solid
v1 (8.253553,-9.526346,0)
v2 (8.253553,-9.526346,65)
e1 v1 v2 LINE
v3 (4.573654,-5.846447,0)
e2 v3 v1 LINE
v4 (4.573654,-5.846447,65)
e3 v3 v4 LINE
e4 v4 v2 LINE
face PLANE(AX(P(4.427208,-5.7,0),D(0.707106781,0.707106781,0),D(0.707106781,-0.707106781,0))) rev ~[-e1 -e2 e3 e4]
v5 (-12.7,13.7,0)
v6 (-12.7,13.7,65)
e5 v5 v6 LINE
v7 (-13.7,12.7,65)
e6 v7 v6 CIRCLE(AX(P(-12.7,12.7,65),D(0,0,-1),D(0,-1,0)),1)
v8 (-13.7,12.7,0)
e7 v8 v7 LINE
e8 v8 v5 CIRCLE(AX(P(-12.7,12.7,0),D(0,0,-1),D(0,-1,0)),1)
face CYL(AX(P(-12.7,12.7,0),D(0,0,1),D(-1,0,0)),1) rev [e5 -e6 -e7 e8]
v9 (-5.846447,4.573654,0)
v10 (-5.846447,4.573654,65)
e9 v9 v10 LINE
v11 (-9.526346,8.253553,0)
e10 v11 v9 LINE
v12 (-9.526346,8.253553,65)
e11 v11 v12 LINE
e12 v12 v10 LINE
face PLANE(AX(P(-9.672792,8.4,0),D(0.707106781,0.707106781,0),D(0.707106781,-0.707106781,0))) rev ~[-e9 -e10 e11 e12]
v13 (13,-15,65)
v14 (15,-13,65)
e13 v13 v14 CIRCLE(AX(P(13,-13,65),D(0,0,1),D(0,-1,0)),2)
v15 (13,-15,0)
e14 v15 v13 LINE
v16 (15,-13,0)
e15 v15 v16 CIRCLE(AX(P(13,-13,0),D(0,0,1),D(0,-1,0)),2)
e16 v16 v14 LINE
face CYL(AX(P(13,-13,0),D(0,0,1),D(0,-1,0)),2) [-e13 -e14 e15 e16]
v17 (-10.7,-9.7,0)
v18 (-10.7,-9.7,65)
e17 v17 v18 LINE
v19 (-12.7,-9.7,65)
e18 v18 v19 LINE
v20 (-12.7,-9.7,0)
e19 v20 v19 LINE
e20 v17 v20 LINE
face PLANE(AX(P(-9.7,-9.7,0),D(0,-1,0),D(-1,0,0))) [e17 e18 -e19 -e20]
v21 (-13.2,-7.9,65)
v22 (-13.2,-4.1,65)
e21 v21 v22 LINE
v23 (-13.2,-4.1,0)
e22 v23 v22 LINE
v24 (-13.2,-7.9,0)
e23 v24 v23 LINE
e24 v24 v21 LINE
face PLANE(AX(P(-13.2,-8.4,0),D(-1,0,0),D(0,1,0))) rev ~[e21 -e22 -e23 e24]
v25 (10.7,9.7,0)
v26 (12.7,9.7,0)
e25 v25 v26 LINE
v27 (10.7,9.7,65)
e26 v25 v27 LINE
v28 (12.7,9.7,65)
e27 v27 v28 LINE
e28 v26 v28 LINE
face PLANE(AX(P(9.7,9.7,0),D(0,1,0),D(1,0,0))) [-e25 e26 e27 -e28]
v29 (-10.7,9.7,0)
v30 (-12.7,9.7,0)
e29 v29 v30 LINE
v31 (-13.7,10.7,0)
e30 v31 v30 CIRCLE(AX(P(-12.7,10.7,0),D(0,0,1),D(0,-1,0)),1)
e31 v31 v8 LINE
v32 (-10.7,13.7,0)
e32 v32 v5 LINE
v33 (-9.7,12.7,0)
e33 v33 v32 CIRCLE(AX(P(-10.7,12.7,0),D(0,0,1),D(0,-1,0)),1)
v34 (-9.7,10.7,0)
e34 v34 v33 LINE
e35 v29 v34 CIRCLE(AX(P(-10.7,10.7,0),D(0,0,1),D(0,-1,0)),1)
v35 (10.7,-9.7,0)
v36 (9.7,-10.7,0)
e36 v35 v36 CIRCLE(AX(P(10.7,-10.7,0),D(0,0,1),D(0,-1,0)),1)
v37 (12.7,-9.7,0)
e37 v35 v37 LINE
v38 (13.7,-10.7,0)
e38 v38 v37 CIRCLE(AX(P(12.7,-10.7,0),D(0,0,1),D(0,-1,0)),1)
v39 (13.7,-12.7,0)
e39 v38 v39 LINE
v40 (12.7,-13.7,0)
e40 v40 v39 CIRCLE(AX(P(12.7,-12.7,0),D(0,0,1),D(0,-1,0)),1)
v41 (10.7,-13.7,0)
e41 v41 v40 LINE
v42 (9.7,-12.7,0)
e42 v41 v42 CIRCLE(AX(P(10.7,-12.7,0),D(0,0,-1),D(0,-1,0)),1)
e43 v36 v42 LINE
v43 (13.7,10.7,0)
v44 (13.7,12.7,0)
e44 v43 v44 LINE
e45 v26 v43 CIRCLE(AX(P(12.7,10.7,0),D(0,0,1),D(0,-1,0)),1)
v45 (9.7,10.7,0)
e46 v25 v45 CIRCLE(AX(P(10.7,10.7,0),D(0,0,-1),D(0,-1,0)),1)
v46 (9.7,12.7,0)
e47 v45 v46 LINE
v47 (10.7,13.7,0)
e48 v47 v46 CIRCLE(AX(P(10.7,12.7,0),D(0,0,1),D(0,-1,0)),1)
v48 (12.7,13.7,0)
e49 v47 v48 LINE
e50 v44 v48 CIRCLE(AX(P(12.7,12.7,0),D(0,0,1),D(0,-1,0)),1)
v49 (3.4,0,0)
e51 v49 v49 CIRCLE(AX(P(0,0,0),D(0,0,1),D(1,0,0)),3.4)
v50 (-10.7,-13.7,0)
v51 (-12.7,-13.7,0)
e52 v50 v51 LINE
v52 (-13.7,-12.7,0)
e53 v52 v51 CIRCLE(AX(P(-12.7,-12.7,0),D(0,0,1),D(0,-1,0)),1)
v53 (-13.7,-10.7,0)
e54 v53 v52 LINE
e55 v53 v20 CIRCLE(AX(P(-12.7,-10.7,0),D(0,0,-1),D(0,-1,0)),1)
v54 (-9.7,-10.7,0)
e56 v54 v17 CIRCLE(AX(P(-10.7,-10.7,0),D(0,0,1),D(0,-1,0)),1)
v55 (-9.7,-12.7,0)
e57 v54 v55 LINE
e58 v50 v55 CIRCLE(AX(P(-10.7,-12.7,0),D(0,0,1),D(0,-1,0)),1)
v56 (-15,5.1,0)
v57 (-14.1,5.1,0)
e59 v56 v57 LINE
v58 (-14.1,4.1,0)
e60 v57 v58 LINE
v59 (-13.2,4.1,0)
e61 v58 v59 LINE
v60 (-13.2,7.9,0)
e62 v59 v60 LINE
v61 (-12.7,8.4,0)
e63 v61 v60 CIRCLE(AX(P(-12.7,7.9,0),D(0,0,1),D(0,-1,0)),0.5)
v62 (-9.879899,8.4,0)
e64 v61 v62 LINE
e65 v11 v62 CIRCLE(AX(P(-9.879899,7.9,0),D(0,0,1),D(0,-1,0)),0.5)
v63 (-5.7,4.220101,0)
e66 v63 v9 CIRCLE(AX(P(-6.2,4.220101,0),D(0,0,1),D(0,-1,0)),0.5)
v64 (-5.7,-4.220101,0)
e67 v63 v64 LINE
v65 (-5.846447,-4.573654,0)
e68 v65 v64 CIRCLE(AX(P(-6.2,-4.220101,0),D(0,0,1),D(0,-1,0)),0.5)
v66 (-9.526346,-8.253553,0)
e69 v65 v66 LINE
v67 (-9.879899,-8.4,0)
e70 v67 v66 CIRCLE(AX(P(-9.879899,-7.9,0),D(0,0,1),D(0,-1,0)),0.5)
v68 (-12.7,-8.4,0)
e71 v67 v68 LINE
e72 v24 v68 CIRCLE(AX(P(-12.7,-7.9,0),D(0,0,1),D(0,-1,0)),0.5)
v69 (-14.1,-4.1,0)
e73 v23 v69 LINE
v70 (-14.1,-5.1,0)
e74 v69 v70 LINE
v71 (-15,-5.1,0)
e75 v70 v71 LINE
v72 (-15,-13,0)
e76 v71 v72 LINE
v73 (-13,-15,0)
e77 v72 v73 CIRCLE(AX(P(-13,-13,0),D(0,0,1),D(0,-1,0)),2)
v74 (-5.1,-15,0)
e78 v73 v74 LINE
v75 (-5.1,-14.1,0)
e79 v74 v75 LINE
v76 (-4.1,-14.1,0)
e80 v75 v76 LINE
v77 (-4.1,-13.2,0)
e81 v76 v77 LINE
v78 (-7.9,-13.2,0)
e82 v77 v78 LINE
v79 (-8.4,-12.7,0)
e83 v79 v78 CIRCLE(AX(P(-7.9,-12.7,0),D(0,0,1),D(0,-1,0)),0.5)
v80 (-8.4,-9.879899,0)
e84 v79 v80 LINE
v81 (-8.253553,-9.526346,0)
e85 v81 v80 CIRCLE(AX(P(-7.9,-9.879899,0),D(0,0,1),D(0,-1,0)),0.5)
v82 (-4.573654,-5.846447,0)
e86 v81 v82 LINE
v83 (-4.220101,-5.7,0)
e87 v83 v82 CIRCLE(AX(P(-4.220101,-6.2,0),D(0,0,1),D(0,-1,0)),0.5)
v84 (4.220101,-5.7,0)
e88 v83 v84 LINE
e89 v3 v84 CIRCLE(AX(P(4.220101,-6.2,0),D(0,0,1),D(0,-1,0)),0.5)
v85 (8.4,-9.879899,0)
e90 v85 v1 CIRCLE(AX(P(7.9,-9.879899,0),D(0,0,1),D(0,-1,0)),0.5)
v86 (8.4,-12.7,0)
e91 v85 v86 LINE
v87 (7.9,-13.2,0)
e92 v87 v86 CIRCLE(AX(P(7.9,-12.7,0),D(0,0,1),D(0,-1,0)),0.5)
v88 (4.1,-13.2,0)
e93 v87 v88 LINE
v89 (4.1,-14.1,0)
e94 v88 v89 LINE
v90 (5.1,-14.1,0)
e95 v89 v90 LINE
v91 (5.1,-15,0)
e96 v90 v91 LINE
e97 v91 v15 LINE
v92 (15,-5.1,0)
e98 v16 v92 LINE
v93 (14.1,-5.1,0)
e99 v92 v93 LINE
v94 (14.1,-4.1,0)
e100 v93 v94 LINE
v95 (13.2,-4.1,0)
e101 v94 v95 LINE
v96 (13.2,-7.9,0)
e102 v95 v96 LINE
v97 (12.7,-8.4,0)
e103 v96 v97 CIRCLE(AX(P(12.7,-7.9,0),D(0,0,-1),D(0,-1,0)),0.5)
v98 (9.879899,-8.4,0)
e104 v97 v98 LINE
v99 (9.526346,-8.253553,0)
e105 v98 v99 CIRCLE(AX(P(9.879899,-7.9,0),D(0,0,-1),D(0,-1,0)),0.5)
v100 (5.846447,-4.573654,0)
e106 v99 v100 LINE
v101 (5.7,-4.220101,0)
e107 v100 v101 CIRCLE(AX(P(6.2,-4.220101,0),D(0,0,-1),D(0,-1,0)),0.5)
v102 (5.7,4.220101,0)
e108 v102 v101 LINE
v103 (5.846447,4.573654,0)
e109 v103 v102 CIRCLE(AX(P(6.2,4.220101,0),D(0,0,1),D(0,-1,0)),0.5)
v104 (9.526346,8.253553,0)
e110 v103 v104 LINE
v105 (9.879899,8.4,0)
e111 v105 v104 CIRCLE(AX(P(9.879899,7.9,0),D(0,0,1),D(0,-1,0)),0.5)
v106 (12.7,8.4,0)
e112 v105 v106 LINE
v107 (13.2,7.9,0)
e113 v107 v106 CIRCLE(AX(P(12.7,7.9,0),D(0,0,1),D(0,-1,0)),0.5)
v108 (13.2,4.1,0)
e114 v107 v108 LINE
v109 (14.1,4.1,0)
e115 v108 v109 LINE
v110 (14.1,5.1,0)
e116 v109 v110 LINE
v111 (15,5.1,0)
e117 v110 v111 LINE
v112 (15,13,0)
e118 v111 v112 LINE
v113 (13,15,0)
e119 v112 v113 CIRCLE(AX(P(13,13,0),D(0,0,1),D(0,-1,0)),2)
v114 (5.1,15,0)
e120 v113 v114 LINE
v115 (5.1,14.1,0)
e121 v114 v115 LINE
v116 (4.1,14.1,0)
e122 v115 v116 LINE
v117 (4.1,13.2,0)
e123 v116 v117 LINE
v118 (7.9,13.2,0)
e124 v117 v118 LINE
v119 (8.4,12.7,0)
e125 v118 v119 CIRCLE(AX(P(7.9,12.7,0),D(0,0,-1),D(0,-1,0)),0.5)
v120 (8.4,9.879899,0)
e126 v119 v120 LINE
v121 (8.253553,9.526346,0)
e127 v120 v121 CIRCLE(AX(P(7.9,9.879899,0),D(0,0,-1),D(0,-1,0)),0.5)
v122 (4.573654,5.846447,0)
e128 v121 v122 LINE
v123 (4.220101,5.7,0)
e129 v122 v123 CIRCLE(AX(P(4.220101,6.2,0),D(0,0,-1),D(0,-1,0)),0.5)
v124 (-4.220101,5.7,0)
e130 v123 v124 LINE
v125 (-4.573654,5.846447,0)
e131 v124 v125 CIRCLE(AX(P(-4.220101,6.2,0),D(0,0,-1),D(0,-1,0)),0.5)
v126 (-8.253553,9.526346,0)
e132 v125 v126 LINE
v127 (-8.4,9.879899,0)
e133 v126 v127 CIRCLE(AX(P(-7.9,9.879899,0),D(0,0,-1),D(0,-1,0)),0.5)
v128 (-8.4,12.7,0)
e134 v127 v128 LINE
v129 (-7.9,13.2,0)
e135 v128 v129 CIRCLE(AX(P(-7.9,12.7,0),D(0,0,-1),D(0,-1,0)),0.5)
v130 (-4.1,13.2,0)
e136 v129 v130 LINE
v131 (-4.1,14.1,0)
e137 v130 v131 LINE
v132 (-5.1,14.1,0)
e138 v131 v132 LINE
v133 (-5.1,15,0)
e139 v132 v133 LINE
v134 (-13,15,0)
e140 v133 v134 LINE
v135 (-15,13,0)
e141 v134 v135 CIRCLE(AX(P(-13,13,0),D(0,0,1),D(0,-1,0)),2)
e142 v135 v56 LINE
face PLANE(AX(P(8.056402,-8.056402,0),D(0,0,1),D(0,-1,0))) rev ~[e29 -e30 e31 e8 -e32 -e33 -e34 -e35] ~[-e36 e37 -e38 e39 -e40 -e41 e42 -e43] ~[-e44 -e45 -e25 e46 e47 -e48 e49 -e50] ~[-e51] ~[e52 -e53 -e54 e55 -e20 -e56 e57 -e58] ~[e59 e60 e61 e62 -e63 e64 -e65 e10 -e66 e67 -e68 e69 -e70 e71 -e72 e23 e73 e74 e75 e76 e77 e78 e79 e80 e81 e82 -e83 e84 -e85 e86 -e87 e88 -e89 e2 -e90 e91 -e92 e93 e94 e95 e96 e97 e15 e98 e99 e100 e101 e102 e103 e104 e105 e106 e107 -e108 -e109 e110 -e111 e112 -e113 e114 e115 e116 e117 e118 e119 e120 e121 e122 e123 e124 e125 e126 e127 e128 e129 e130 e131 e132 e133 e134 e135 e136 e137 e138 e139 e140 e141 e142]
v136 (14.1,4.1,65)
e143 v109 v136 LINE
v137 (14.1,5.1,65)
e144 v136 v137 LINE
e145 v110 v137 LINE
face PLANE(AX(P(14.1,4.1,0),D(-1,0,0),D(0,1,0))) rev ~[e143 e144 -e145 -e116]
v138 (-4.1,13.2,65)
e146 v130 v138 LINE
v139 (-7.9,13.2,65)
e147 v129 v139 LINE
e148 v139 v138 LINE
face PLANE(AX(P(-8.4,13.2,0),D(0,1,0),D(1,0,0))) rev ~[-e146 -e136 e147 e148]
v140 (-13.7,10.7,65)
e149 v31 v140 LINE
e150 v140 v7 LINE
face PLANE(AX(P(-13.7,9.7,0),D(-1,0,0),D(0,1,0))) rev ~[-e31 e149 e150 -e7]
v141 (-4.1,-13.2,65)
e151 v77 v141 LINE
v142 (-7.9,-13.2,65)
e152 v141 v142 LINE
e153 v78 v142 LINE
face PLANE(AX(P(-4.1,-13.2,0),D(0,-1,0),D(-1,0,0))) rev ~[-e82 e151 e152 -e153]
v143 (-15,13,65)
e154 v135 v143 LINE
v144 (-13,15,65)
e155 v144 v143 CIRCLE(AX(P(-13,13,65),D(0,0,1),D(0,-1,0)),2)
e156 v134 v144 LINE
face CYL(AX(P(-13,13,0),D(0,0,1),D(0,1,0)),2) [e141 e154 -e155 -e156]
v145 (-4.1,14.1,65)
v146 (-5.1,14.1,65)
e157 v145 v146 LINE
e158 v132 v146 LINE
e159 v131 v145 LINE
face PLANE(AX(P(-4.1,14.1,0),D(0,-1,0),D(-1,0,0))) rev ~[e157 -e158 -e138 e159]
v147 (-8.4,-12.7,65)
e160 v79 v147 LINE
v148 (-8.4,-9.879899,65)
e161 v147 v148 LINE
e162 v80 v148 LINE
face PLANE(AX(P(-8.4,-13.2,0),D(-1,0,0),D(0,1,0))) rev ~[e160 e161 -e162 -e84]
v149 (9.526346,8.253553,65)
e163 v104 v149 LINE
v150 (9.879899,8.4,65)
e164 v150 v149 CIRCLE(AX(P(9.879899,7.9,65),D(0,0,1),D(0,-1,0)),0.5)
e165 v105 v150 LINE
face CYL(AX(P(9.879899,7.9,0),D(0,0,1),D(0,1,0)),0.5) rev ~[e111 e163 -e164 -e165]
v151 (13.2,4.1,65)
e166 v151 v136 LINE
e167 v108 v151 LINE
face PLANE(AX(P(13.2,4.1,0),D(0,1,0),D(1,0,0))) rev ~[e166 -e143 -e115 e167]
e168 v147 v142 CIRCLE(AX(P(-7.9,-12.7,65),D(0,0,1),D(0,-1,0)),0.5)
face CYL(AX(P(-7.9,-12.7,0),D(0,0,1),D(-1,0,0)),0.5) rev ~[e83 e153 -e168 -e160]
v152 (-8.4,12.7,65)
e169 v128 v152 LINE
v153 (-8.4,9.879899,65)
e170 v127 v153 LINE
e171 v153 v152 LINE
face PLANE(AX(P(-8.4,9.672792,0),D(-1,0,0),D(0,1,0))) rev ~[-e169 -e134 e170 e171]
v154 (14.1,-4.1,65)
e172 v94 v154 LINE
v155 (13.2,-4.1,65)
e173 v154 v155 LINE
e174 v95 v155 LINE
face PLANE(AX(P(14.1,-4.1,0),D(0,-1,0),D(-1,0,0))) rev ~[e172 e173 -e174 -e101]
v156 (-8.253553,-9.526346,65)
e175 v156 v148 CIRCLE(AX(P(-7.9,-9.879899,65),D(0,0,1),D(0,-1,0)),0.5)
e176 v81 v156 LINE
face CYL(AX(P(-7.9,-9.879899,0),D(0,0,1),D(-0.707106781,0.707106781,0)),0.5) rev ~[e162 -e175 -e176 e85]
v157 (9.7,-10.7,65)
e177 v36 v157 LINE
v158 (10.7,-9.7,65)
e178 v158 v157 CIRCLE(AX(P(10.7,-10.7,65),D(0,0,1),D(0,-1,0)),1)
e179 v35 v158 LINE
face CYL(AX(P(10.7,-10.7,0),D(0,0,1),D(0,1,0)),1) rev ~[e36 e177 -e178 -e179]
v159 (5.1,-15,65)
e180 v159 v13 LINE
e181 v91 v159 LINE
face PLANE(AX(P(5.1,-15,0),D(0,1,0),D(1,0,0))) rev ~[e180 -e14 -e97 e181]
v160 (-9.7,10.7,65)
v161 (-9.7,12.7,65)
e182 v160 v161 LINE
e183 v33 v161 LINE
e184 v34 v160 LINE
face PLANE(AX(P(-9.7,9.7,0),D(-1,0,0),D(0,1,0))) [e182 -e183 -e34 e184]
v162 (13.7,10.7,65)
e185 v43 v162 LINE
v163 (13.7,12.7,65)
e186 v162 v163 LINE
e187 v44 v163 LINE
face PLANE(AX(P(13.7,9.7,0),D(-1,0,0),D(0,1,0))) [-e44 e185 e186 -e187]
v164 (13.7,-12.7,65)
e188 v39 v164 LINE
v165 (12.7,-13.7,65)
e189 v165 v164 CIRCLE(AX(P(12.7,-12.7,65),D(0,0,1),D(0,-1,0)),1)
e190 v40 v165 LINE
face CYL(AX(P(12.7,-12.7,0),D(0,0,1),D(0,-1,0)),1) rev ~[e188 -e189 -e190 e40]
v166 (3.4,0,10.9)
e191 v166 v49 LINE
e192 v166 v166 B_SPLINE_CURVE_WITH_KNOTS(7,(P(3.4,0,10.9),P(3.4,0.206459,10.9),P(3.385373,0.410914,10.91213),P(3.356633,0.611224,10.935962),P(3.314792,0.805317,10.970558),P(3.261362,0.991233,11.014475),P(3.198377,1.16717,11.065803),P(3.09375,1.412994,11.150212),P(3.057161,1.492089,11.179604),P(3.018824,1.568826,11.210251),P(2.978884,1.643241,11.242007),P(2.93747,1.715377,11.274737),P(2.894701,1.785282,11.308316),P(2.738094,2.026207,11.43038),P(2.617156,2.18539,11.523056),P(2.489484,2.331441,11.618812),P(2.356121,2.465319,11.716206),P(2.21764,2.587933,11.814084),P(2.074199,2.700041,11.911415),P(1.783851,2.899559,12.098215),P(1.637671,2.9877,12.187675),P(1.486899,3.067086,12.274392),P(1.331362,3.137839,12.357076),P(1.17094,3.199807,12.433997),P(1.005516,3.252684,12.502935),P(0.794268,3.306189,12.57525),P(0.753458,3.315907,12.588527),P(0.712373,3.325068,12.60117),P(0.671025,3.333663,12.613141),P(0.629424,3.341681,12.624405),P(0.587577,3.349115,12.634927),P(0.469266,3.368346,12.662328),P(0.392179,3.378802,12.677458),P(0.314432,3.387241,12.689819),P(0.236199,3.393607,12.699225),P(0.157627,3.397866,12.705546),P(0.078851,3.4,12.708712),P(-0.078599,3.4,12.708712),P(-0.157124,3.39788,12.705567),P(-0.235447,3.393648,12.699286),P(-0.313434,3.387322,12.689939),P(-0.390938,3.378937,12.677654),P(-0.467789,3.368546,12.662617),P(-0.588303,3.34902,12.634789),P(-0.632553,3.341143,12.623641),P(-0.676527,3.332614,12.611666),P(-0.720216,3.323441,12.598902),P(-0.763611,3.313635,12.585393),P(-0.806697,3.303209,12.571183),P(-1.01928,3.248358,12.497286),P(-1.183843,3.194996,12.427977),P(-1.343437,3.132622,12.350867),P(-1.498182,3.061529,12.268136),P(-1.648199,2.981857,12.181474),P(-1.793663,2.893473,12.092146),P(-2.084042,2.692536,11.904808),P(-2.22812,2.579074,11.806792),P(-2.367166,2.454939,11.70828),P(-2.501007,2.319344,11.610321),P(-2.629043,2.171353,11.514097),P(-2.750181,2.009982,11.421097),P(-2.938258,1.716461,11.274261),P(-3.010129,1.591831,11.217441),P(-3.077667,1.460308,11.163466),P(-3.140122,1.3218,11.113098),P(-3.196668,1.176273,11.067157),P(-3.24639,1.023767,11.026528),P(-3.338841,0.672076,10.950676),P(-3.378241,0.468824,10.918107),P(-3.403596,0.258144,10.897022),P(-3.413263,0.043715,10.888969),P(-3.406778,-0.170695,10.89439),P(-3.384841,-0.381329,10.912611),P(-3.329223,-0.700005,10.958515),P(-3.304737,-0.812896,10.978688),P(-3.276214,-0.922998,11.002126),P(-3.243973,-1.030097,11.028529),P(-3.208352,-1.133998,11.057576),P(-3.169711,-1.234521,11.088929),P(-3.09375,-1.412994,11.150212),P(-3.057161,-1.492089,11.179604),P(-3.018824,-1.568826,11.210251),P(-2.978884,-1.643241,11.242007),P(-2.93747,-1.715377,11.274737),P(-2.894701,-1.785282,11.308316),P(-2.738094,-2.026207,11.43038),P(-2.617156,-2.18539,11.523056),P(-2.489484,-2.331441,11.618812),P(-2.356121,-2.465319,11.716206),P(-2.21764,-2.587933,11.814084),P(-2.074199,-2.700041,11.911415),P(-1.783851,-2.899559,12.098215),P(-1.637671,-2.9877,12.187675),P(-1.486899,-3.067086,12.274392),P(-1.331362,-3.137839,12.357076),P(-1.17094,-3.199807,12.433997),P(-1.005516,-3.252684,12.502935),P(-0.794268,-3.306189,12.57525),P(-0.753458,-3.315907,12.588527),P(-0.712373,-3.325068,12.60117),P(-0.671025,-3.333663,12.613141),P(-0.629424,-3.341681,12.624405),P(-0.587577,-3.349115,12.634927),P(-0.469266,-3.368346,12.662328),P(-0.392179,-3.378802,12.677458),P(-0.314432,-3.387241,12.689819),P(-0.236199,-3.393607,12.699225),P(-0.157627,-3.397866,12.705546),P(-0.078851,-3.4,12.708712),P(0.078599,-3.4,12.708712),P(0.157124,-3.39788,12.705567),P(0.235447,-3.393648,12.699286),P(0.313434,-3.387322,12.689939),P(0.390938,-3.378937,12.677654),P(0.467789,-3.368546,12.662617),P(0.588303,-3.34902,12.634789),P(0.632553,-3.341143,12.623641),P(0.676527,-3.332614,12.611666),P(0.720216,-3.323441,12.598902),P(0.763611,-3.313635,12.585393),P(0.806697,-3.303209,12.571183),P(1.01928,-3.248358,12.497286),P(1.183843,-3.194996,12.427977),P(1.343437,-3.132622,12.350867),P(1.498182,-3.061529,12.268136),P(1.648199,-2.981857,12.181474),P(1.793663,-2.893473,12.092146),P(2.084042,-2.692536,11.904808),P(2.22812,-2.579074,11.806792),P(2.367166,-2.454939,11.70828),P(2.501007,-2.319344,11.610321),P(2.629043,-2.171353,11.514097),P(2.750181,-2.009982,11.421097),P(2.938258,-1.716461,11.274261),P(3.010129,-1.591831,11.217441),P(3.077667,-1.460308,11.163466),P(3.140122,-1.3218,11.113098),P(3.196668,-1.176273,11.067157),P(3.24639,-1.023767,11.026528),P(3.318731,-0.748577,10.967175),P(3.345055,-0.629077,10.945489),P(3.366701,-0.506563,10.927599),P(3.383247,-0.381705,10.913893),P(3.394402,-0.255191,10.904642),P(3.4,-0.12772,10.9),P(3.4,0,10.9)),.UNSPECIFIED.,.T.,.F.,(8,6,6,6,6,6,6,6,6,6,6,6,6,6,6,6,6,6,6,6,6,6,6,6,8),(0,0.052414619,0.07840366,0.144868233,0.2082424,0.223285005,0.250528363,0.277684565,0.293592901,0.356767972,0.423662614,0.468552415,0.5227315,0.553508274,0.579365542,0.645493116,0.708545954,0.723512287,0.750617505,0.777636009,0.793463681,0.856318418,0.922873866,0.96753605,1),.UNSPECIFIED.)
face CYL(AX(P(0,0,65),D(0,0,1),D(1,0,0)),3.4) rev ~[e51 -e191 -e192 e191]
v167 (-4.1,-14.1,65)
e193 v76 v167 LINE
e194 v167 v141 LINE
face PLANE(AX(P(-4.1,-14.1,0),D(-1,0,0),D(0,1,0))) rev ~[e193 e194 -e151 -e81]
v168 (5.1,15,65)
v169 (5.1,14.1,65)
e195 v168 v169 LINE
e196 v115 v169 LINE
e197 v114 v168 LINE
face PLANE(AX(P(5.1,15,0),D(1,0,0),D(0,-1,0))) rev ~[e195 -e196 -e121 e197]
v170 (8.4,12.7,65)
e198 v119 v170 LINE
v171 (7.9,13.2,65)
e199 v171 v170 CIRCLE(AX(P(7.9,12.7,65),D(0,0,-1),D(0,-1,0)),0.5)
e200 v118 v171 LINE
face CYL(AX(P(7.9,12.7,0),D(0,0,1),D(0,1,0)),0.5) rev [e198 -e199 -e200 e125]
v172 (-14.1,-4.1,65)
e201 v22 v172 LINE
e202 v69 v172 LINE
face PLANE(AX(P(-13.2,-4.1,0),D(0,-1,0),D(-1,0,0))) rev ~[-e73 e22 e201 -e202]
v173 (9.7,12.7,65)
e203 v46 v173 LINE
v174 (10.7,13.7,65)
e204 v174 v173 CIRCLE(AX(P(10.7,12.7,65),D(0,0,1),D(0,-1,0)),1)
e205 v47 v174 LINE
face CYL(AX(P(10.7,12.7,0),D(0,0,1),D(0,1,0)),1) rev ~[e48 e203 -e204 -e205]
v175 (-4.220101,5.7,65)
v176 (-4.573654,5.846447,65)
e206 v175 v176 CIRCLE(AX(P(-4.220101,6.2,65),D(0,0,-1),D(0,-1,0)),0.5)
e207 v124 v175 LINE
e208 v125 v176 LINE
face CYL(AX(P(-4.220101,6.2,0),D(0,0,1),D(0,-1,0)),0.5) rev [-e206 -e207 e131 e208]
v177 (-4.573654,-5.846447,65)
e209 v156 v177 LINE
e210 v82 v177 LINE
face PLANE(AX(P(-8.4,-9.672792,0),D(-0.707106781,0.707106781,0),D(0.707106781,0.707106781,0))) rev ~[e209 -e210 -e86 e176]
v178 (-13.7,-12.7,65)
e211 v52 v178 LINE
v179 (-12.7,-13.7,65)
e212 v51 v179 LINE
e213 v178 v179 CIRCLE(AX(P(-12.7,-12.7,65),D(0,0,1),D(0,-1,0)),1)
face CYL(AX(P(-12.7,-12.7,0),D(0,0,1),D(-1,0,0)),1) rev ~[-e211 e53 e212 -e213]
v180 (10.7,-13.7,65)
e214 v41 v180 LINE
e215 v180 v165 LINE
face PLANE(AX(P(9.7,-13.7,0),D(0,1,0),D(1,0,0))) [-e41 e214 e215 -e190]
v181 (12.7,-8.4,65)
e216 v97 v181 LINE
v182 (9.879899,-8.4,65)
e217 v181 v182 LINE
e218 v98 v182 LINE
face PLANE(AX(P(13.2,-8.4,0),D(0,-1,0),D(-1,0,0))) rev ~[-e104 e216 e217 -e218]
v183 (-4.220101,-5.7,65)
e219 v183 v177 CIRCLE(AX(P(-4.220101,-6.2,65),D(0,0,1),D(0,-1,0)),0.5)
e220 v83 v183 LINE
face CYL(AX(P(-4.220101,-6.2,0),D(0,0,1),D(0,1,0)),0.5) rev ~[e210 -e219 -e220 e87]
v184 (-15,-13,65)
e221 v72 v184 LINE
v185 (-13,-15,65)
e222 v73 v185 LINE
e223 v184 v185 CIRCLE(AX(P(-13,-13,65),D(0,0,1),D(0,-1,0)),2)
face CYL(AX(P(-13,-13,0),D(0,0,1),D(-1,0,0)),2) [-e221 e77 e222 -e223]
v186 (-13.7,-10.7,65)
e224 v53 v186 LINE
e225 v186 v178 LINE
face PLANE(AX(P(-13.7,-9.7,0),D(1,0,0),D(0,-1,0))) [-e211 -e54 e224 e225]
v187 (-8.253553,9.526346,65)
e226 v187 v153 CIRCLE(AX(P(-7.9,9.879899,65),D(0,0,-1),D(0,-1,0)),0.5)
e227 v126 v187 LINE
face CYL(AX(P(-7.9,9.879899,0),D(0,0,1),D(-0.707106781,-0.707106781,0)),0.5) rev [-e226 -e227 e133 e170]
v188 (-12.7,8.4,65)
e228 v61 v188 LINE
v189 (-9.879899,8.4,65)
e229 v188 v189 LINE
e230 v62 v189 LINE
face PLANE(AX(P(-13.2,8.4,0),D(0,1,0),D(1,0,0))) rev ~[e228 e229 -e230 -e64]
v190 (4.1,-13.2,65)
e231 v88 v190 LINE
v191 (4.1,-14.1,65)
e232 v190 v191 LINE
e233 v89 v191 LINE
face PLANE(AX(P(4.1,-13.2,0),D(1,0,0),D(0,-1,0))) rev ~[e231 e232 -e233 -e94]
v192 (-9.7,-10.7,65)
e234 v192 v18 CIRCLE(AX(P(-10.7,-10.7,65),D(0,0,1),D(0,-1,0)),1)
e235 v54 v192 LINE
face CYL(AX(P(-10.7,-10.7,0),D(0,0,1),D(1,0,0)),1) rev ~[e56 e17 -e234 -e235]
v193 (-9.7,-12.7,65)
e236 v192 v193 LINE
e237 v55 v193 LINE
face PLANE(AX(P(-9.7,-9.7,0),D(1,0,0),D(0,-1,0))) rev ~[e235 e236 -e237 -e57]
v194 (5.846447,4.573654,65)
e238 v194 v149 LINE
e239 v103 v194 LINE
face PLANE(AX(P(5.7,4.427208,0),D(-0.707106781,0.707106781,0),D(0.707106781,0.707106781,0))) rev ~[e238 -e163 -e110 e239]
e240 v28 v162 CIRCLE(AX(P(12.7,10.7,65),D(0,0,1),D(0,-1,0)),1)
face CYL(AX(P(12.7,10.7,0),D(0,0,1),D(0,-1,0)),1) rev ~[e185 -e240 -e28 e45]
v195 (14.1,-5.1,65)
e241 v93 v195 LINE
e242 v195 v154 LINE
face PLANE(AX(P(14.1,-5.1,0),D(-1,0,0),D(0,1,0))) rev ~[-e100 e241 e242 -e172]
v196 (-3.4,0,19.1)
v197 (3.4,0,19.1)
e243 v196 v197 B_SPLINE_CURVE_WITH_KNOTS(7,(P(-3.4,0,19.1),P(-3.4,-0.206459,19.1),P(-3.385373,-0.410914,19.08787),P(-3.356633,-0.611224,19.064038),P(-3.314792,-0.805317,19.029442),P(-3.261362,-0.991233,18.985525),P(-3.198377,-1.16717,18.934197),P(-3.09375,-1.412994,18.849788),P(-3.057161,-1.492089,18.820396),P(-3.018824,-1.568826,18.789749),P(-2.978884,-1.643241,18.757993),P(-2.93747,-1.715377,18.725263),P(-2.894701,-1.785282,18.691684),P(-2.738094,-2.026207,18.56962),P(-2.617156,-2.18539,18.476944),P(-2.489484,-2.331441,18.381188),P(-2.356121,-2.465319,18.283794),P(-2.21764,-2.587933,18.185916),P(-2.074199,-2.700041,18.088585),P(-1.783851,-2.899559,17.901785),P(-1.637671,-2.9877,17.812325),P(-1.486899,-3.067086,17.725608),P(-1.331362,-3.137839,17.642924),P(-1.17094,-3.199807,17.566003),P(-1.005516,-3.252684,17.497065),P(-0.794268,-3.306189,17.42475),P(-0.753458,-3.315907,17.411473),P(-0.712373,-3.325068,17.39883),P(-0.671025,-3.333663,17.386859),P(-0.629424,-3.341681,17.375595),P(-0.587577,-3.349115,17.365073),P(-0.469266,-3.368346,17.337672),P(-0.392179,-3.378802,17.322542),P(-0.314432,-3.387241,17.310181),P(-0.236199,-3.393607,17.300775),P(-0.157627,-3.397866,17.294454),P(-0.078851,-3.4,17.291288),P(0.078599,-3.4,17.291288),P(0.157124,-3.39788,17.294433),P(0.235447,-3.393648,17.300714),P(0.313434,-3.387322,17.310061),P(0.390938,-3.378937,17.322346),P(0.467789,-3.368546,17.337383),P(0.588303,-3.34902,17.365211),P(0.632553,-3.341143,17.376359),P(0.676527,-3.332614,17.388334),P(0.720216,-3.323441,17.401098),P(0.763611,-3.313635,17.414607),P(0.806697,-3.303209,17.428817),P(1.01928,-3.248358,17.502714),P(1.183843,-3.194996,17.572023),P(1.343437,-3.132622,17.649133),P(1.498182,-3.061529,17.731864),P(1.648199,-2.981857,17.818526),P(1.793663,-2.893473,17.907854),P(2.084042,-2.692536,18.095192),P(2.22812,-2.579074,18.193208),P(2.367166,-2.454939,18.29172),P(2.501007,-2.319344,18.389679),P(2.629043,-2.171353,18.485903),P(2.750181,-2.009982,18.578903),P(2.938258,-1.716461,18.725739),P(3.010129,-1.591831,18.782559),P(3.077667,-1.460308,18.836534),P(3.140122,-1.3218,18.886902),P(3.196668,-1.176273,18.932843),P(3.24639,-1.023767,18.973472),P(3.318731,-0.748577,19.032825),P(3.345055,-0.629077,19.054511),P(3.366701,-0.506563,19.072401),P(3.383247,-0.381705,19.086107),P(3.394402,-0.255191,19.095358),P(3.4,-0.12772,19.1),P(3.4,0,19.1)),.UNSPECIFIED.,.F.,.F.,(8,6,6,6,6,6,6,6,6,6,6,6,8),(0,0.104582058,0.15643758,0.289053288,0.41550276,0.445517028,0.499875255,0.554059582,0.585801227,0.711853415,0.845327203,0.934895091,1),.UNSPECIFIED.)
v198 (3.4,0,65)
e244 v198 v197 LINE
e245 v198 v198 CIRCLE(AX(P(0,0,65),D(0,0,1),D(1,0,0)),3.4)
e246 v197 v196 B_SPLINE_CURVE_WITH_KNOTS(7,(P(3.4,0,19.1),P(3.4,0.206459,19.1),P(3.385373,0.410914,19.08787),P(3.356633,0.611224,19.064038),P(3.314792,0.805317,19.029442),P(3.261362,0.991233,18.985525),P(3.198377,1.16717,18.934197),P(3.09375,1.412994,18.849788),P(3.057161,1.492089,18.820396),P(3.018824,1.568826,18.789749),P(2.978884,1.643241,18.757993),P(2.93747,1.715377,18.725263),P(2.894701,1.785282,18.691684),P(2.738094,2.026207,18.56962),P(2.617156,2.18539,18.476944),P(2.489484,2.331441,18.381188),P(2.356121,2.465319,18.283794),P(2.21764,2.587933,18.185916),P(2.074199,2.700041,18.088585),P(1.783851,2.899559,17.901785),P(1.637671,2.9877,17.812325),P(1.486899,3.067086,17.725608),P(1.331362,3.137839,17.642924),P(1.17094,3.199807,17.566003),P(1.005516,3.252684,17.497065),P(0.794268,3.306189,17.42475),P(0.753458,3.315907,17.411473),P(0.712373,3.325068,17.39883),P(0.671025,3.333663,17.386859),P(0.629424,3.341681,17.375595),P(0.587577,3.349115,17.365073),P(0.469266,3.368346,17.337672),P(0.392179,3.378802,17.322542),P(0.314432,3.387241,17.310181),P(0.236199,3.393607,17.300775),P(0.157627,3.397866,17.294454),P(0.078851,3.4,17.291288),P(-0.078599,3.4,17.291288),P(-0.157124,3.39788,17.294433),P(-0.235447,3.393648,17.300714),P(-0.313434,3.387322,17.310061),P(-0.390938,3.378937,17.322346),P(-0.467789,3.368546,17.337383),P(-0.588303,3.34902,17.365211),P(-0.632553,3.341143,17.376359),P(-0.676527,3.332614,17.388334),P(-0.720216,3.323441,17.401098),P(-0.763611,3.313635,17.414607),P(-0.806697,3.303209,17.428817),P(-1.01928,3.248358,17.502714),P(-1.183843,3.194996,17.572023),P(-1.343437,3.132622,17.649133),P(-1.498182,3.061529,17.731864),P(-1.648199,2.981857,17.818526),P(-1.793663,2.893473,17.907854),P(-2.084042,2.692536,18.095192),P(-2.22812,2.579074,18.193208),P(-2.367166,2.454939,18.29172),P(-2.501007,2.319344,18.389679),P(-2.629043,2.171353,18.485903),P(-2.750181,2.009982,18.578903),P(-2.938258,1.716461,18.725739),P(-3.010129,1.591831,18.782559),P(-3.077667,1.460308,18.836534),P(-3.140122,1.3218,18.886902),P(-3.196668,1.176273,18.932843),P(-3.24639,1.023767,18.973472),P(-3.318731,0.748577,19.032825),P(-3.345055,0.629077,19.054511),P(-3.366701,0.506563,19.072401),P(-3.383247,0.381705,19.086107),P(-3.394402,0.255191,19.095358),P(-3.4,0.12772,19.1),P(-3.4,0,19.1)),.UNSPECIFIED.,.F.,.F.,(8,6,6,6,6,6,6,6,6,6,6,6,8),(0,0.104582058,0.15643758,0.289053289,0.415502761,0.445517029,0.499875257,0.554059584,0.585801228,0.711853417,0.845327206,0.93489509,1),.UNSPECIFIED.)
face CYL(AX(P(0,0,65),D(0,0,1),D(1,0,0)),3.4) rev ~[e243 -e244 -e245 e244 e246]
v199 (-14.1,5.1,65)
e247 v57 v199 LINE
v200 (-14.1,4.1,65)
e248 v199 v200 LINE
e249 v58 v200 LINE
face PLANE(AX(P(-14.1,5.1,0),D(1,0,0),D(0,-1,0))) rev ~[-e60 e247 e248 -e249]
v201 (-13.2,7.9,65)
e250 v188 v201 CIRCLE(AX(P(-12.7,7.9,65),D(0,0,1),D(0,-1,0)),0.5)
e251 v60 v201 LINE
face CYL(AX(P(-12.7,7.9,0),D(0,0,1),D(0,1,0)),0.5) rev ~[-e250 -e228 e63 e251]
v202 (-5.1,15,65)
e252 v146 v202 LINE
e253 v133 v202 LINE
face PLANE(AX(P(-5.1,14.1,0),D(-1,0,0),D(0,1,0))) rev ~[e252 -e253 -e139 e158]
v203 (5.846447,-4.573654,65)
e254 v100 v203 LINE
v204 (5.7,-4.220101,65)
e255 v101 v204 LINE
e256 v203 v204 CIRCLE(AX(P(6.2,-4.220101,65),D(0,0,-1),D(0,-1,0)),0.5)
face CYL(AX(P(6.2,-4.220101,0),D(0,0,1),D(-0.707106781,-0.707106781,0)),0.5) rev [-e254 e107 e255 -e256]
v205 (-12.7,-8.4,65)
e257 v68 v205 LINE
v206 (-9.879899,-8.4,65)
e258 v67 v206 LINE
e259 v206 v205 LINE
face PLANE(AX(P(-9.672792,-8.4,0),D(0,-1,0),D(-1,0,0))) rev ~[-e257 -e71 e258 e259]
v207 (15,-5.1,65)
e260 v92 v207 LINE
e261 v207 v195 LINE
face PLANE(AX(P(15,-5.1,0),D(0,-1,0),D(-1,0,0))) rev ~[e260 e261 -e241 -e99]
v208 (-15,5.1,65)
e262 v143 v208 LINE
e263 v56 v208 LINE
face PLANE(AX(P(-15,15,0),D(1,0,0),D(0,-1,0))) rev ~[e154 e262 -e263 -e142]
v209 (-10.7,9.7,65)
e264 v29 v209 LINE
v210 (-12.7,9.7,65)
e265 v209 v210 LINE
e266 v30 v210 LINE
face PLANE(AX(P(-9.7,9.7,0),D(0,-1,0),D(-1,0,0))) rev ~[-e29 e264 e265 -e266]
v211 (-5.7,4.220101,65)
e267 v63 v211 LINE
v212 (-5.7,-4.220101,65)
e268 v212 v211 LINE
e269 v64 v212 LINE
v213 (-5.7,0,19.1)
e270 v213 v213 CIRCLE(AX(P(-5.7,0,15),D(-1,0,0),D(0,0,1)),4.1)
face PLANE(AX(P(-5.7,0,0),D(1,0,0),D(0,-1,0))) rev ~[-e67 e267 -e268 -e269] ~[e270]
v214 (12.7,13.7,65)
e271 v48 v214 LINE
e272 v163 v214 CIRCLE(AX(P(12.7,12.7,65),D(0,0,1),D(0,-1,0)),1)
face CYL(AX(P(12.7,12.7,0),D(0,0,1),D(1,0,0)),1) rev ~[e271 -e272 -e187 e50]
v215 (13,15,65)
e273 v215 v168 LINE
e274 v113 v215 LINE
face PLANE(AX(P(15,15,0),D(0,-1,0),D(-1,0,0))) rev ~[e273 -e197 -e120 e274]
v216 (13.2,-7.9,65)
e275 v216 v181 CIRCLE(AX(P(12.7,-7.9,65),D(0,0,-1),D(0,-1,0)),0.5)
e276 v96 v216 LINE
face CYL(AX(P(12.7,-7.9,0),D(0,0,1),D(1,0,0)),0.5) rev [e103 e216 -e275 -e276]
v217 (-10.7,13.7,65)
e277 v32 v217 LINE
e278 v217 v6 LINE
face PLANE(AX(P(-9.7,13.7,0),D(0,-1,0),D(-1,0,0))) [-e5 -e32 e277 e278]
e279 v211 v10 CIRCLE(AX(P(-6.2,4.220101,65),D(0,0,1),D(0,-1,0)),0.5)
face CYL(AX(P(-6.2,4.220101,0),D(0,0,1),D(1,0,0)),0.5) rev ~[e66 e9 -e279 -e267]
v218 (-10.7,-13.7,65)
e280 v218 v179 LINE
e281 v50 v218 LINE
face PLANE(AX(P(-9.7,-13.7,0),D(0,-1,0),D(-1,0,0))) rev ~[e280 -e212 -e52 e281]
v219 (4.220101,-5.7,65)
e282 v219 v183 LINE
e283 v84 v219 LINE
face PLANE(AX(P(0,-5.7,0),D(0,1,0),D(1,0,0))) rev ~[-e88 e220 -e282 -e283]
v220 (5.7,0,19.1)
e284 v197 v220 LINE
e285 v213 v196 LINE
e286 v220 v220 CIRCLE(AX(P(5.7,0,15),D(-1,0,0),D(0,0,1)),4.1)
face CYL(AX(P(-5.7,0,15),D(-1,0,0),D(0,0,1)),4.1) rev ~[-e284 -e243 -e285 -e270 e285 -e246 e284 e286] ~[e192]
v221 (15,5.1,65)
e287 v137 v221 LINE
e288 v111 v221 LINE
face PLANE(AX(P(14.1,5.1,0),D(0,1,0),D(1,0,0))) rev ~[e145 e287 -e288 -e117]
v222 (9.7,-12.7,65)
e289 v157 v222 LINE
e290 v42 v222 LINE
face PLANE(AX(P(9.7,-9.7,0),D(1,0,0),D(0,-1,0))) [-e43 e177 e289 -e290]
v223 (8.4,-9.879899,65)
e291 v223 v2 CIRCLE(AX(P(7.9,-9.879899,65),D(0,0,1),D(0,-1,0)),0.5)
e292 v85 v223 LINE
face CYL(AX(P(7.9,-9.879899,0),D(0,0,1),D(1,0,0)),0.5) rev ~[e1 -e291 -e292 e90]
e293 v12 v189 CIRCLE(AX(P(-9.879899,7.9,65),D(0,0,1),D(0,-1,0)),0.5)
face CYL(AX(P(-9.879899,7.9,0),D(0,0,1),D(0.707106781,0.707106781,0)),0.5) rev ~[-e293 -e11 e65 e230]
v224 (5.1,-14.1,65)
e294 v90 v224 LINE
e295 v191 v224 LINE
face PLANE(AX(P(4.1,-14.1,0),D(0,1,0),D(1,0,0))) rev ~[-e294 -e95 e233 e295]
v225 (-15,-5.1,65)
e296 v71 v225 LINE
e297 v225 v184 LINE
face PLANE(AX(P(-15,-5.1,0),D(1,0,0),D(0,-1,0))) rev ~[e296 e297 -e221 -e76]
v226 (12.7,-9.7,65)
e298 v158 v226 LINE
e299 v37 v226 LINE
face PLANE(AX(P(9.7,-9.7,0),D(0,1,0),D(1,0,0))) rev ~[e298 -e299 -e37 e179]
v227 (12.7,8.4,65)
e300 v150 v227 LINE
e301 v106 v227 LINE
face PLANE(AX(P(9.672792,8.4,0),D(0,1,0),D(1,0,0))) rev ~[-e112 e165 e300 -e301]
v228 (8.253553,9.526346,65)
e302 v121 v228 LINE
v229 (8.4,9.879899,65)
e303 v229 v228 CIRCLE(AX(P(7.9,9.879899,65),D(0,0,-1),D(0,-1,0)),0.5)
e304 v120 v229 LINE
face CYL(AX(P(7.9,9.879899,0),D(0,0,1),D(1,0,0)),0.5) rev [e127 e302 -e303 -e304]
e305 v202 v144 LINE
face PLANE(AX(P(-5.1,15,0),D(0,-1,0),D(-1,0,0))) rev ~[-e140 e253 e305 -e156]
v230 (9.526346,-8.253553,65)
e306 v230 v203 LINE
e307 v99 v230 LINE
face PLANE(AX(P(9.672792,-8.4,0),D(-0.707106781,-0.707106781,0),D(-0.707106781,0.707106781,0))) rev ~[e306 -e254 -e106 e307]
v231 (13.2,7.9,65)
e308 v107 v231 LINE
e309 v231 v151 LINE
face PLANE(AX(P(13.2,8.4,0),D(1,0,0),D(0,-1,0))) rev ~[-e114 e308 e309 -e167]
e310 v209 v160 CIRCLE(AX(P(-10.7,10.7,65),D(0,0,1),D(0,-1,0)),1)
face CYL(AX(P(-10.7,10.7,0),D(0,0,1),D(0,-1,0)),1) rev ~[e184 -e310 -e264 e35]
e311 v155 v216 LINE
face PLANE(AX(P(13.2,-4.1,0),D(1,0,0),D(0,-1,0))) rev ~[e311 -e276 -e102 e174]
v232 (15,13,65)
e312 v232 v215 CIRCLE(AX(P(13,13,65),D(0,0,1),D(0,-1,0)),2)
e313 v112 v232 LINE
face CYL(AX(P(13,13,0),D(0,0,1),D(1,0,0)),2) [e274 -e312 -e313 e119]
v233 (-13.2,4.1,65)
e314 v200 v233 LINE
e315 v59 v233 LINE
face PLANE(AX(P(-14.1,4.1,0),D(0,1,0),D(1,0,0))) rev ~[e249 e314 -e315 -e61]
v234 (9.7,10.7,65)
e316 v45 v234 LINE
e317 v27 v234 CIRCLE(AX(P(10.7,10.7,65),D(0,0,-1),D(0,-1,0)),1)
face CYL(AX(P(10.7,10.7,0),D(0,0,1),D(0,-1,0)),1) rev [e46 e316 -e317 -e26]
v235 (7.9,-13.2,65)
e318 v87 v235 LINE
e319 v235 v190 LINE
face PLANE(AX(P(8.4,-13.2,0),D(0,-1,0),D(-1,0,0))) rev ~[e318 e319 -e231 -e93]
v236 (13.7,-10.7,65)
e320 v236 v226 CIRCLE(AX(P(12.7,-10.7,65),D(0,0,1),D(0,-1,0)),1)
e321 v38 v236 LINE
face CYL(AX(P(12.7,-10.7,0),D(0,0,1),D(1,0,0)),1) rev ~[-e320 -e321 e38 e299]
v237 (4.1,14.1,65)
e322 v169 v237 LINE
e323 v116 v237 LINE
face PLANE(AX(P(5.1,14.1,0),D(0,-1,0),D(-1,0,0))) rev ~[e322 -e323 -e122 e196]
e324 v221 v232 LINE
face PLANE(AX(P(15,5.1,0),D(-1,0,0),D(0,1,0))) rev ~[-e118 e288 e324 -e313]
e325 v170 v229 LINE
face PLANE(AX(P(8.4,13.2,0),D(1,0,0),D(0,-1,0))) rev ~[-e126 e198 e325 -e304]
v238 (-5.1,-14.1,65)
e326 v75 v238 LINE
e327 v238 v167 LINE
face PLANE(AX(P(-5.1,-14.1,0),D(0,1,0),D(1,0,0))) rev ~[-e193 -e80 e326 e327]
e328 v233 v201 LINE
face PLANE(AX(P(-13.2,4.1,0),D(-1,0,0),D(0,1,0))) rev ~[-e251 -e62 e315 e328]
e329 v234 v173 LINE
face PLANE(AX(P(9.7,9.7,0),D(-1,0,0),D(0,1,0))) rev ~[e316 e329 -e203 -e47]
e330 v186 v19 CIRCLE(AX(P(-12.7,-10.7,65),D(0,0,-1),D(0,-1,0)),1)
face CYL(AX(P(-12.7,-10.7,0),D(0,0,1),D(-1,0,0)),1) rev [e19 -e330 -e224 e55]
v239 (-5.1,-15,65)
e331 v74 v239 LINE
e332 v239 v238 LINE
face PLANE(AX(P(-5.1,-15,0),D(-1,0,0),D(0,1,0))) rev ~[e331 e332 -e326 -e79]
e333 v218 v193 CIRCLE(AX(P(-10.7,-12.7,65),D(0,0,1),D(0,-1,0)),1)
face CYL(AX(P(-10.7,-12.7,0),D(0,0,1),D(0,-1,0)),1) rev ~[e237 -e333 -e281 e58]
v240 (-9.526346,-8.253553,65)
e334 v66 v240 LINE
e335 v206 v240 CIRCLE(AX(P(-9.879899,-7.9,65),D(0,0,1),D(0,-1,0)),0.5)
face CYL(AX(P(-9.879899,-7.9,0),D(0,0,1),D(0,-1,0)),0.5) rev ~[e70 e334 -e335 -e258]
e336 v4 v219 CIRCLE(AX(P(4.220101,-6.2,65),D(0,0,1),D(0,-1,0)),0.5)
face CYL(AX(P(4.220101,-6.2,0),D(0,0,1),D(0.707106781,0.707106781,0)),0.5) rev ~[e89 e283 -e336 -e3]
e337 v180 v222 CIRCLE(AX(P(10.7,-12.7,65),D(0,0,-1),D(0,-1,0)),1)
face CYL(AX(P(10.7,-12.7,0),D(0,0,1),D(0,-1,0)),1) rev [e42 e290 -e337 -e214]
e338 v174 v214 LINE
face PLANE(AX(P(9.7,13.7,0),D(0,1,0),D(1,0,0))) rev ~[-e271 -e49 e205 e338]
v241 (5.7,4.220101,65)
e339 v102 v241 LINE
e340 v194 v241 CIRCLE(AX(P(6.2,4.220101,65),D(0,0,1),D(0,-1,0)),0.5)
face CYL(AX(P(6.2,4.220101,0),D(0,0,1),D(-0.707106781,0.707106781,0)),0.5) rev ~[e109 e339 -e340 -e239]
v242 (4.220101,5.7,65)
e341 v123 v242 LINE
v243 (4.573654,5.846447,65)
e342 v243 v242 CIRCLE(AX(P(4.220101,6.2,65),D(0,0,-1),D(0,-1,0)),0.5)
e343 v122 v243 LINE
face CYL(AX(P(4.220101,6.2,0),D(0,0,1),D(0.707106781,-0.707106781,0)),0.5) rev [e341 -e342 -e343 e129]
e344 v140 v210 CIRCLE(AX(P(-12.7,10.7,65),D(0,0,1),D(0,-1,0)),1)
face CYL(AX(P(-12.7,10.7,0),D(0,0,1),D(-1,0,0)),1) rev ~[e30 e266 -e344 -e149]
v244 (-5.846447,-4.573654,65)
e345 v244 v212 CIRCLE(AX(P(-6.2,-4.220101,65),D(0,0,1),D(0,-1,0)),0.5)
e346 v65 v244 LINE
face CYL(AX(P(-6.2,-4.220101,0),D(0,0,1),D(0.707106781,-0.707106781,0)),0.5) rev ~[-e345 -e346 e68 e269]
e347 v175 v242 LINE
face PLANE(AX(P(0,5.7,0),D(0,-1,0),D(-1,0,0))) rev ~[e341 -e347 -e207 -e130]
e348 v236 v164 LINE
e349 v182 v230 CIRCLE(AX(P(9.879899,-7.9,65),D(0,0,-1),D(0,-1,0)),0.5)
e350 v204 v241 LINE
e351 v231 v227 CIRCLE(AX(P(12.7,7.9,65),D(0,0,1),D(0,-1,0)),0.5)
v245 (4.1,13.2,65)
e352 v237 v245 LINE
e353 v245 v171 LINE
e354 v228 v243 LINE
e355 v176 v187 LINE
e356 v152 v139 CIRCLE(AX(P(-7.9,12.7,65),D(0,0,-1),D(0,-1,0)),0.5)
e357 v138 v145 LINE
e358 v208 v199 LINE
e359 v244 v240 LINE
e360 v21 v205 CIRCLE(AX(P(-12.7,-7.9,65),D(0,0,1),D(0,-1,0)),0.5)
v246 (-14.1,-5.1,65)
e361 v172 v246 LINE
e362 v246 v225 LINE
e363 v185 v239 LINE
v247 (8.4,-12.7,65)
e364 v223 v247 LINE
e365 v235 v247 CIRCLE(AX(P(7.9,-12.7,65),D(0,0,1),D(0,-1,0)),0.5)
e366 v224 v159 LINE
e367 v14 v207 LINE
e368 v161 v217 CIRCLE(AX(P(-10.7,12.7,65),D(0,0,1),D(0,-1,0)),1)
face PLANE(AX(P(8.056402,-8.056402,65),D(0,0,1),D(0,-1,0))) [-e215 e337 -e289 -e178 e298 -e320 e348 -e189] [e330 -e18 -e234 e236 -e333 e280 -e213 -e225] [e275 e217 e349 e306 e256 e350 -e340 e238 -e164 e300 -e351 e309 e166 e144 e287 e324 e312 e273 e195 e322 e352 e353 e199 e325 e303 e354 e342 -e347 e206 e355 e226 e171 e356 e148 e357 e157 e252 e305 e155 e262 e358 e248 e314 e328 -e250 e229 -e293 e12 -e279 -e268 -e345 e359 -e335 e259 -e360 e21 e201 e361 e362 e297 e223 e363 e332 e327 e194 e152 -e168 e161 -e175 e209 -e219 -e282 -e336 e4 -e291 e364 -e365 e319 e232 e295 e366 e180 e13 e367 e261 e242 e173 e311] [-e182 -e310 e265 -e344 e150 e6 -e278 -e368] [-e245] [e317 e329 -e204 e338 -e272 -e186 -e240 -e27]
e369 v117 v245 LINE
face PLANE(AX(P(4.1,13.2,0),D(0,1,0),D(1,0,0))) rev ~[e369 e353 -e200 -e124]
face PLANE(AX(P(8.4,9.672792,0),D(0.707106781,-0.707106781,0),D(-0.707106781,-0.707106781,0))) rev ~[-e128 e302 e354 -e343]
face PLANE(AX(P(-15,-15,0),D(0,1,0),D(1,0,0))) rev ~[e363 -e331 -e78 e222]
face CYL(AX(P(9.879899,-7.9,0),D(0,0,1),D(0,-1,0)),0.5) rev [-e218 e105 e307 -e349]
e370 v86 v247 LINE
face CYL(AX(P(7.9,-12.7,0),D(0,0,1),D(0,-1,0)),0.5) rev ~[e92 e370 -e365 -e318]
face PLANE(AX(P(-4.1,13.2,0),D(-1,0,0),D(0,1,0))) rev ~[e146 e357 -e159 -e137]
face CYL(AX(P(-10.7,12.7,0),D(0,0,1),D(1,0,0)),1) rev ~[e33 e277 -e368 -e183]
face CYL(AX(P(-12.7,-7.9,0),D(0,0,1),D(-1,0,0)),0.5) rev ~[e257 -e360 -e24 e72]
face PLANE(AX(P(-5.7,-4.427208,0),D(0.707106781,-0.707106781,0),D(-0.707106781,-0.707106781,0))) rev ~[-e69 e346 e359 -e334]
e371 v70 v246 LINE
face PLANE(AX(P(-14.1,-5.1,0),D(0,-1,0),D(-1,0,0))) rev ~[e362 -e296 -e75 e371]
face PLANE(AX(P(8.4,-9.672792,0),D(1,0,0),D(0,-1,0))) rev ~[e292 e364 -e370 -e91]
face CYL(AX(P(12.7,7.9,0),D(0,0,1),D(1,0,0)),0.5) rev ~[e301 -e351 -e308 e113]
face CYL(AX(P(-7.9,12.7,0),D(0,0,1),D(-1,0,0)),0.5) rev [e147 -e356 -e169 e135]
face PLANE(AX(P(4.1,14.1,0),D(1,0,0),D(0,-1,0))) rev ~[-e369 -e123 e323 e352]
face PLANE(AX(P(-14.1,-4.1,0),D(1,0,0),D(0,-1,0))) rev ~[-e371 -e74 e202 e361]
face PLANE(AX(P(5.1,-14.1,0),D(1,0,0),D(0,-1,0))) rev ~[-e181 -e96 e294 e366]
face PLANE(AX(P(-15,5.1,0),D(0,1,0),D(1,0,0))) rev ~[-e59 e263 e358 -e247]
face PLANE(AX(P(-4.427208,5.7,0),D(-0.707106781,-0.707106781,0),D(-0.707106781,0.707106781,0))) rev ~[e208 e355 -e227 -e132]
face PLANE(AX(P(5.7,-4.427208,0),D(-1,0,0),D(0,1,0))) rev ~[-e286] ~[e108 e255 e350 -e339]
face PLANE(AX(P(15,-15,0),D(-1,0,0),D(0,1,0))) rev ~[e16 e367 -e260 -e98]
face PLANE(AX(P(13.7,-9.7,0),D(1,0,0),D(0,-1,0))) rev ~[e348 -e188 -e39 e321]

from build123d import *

# Parameters (mm, degrees)
SKETCH_1_W                       = 4
SKETCH_1_H                       = 4
EXTRUDE_1_DEPTH                  = 65
FILLET_1_R                       = 1
FILLET_2_R                       = 2
FILLET_3_R                       = 0.5
PATTERN_CIRCULAR_1_COUNT         = 4
FILLET_1_OF_PATTERN_CIRCULAR_1_R = 1
FILLET_2_OF_PATTERN_CIRCULAR_1_R = 2
FILLET_3_OF_PATTERN_CIRCULAR_1_R = 0.5
SKETCH_2_R                       = 3.4
CUT_EXTRUDE_1_DEPTH              = 66
SKETCH_3_R                       = 4.1
CUT_EXTRUDE_2_DEPTH              = 21.7


with BuildPart() as part:
    # 草图1 → 凸台-拉伸1 (new body)
    with BuildSketch(Plane.XY):
        Polygon((5.7, 0), (5.7, 4.427207794), (9.672792206, 8.4), (13.2, 8.4), (13.2, 4.1), (14.1, 4.1), (14.1, 5.1), (15, 5.1), (15, 15), (5.1, 15), (5.1, 14.1), (4.1, 14.1), (4.1, 13.2), (8.4, 13.2), (8.4, 9.672792206), (4.427207794, 5.7), (0, 5.7), (0, 0), align=None)
        with Locations((11.7, 11.7)):
            Rectangle(SKETCH_1_W, SKETCH_1_H, mode=Mode.SUBTRACT)
    extrude_1 = extrude(amount=EXTRUDE_1_DEPTH)

    # 圆角1
    fillet_1_edges = [part.edges().sort_by_distance(p)[0] for p in [
        (13.7, 9.7, 32.5),
        (13.7, 13.7, 32.5),
        (9.7, 13.7, 32.5),
        (9.7, 9.7, 32.5),
    ]]
    fillet(fillet_1_edges, radius=FILLET_1_R)

    # 圆角2
    fillet_2_edges = [part.edges().sort_by_distance(p)[0] for p in [
        (15, 15, 32.5),
    ]]
    fillet(fillet_2_edges, radius=FILLET_2_R)

    # 圆角3
    fillet_3_edges = [part.edges().sort_by_distance(p)[0] for p in [
        (4.427207794, 5.7, 32.5),
        (8.4, 9.672792206, 32.5),
        (8.4, 13.2, 32.5),
        (13.2, 8.4, 32.5),
        (9.672792206, 8.4, 32.5),
        (5.7, 4.427207794, 32.5),
    ]]
    fillet(fillet_3_edges, radius=FILLET_3_R)

    # 阵列(圆周)1: 凸台-拉伸1 ×4 about axis
    pattern_circular_1_axis = Axis((0, 0, 0), (0, 0, 1))
    for i in range(1, PATTERN_CIRCULAR_1_COUNT):
        add(extrude_1.rotate(pattern_circular_1_axis, i * 360 / PATTERN_CIRCULAR_1_COUNT))

    # 圆角1 of 阵列(圆周)1
    fillet_1_of_pattern_circular_1_edges = [part.edges().sort_by_distance(p)[0] for p in [
        (-9.7, 13.7, 32.5),
        (-13.7, 13.7, 32.5),
        (-13.7, 9.7, 32.5),
        (-9.7, 9.7, 32.5),
        (-13.7, -9.7, 32.5),
        (-13.7, -13.7, 32.5),
        (-9.7, -13.7, 32.5),
        (-9.7, -9.7, 32.5),
        (9.7, -13.7, 32.5),
        (13.7, -13.7, 32.5),
        (13.7, -9.7, 32.5),
        (9.7, -9.7, 32.5),
    ]]
    fillet(fillet_1_of_pattern_circular_1_edges, radius=FILLET_1_OF_PATTERN_CIRCULAR_1_R)

    # 圆角2 of 阵列(圆周)1
    fillet_2_of_pattern_circular_1_edges = [part.edges().sort_by_distance(p)[0] for p in [
        (-15, 15, 32.5),
        (-15, -15, 32.5),
        (15, -15, 32.5),
    ]]
    fillet(fillet_2_of_pattern_circular_1_edges, radius=FILLET_2_OF_PATTERN_CIRCULAR_1_R)

    # 圆角3 of 阵列(圆周)1
    fillet_3_of_pattern_circular_1_edges = [part.edges().sort_by_distance(p)[0] for p in [
        (-5.7, 4.427207794, 32.5),
        (-9.672792206, 8.4, 32.5),
        (-13.2, 8.4, 32.5),
        (-8.4, 13.2, 32.5),
        (-8.4, 9.672792206, 32.5),
        (-4.427207794, 5.7, 32.5),
        (-4.427207794, -5.7, 32.5),
        (-8.4, -9.672792206, 32.5),
        (-8.4, -13.2, 32.5),
        (-13.2, -8.4, 32.5),
        (-9.672792206, -8.4, 32.5),
        (-5.7, -4.427207794, 32.5),
        (5.7, -4.427207794, 32.5),
        (9.672792206, -8.4, 32.5),
        (13.2, -8.4, 32.5),
        (8.4, -13.2, 32.5),
        (8.4, -9.672792206, 32.5),
        (4.427207794, -5.7, 32.5),
    ]]
    fillet(fillet_3_of_pattern_circular_1_edges, radius=FILLET_3_OF_PATTERN_CIRCULAR_1_R)

    # 草图2 → 切除-拉伸1 (cut, through all)
    with BuildSketch(Plane.XY.offset(65)):
        Circle(SKETCH_2_R)
    extrude(amount=-CUT_EXTRUDE_1_DEPTH, mode=Mode.SUBTRACT)

    # 草图3 → 切除-拉伸2 (cut, through all)
    with BuildSketch(Plane.ZY.offset(5.7)):
        with Locations((15, 0)):
            Circle(SKETCH_3_R)
    extrude(amount=-CUT_EXTRUDE_2_DEPTH, mode=Mode.SUBTRACT)


solid = part.part
